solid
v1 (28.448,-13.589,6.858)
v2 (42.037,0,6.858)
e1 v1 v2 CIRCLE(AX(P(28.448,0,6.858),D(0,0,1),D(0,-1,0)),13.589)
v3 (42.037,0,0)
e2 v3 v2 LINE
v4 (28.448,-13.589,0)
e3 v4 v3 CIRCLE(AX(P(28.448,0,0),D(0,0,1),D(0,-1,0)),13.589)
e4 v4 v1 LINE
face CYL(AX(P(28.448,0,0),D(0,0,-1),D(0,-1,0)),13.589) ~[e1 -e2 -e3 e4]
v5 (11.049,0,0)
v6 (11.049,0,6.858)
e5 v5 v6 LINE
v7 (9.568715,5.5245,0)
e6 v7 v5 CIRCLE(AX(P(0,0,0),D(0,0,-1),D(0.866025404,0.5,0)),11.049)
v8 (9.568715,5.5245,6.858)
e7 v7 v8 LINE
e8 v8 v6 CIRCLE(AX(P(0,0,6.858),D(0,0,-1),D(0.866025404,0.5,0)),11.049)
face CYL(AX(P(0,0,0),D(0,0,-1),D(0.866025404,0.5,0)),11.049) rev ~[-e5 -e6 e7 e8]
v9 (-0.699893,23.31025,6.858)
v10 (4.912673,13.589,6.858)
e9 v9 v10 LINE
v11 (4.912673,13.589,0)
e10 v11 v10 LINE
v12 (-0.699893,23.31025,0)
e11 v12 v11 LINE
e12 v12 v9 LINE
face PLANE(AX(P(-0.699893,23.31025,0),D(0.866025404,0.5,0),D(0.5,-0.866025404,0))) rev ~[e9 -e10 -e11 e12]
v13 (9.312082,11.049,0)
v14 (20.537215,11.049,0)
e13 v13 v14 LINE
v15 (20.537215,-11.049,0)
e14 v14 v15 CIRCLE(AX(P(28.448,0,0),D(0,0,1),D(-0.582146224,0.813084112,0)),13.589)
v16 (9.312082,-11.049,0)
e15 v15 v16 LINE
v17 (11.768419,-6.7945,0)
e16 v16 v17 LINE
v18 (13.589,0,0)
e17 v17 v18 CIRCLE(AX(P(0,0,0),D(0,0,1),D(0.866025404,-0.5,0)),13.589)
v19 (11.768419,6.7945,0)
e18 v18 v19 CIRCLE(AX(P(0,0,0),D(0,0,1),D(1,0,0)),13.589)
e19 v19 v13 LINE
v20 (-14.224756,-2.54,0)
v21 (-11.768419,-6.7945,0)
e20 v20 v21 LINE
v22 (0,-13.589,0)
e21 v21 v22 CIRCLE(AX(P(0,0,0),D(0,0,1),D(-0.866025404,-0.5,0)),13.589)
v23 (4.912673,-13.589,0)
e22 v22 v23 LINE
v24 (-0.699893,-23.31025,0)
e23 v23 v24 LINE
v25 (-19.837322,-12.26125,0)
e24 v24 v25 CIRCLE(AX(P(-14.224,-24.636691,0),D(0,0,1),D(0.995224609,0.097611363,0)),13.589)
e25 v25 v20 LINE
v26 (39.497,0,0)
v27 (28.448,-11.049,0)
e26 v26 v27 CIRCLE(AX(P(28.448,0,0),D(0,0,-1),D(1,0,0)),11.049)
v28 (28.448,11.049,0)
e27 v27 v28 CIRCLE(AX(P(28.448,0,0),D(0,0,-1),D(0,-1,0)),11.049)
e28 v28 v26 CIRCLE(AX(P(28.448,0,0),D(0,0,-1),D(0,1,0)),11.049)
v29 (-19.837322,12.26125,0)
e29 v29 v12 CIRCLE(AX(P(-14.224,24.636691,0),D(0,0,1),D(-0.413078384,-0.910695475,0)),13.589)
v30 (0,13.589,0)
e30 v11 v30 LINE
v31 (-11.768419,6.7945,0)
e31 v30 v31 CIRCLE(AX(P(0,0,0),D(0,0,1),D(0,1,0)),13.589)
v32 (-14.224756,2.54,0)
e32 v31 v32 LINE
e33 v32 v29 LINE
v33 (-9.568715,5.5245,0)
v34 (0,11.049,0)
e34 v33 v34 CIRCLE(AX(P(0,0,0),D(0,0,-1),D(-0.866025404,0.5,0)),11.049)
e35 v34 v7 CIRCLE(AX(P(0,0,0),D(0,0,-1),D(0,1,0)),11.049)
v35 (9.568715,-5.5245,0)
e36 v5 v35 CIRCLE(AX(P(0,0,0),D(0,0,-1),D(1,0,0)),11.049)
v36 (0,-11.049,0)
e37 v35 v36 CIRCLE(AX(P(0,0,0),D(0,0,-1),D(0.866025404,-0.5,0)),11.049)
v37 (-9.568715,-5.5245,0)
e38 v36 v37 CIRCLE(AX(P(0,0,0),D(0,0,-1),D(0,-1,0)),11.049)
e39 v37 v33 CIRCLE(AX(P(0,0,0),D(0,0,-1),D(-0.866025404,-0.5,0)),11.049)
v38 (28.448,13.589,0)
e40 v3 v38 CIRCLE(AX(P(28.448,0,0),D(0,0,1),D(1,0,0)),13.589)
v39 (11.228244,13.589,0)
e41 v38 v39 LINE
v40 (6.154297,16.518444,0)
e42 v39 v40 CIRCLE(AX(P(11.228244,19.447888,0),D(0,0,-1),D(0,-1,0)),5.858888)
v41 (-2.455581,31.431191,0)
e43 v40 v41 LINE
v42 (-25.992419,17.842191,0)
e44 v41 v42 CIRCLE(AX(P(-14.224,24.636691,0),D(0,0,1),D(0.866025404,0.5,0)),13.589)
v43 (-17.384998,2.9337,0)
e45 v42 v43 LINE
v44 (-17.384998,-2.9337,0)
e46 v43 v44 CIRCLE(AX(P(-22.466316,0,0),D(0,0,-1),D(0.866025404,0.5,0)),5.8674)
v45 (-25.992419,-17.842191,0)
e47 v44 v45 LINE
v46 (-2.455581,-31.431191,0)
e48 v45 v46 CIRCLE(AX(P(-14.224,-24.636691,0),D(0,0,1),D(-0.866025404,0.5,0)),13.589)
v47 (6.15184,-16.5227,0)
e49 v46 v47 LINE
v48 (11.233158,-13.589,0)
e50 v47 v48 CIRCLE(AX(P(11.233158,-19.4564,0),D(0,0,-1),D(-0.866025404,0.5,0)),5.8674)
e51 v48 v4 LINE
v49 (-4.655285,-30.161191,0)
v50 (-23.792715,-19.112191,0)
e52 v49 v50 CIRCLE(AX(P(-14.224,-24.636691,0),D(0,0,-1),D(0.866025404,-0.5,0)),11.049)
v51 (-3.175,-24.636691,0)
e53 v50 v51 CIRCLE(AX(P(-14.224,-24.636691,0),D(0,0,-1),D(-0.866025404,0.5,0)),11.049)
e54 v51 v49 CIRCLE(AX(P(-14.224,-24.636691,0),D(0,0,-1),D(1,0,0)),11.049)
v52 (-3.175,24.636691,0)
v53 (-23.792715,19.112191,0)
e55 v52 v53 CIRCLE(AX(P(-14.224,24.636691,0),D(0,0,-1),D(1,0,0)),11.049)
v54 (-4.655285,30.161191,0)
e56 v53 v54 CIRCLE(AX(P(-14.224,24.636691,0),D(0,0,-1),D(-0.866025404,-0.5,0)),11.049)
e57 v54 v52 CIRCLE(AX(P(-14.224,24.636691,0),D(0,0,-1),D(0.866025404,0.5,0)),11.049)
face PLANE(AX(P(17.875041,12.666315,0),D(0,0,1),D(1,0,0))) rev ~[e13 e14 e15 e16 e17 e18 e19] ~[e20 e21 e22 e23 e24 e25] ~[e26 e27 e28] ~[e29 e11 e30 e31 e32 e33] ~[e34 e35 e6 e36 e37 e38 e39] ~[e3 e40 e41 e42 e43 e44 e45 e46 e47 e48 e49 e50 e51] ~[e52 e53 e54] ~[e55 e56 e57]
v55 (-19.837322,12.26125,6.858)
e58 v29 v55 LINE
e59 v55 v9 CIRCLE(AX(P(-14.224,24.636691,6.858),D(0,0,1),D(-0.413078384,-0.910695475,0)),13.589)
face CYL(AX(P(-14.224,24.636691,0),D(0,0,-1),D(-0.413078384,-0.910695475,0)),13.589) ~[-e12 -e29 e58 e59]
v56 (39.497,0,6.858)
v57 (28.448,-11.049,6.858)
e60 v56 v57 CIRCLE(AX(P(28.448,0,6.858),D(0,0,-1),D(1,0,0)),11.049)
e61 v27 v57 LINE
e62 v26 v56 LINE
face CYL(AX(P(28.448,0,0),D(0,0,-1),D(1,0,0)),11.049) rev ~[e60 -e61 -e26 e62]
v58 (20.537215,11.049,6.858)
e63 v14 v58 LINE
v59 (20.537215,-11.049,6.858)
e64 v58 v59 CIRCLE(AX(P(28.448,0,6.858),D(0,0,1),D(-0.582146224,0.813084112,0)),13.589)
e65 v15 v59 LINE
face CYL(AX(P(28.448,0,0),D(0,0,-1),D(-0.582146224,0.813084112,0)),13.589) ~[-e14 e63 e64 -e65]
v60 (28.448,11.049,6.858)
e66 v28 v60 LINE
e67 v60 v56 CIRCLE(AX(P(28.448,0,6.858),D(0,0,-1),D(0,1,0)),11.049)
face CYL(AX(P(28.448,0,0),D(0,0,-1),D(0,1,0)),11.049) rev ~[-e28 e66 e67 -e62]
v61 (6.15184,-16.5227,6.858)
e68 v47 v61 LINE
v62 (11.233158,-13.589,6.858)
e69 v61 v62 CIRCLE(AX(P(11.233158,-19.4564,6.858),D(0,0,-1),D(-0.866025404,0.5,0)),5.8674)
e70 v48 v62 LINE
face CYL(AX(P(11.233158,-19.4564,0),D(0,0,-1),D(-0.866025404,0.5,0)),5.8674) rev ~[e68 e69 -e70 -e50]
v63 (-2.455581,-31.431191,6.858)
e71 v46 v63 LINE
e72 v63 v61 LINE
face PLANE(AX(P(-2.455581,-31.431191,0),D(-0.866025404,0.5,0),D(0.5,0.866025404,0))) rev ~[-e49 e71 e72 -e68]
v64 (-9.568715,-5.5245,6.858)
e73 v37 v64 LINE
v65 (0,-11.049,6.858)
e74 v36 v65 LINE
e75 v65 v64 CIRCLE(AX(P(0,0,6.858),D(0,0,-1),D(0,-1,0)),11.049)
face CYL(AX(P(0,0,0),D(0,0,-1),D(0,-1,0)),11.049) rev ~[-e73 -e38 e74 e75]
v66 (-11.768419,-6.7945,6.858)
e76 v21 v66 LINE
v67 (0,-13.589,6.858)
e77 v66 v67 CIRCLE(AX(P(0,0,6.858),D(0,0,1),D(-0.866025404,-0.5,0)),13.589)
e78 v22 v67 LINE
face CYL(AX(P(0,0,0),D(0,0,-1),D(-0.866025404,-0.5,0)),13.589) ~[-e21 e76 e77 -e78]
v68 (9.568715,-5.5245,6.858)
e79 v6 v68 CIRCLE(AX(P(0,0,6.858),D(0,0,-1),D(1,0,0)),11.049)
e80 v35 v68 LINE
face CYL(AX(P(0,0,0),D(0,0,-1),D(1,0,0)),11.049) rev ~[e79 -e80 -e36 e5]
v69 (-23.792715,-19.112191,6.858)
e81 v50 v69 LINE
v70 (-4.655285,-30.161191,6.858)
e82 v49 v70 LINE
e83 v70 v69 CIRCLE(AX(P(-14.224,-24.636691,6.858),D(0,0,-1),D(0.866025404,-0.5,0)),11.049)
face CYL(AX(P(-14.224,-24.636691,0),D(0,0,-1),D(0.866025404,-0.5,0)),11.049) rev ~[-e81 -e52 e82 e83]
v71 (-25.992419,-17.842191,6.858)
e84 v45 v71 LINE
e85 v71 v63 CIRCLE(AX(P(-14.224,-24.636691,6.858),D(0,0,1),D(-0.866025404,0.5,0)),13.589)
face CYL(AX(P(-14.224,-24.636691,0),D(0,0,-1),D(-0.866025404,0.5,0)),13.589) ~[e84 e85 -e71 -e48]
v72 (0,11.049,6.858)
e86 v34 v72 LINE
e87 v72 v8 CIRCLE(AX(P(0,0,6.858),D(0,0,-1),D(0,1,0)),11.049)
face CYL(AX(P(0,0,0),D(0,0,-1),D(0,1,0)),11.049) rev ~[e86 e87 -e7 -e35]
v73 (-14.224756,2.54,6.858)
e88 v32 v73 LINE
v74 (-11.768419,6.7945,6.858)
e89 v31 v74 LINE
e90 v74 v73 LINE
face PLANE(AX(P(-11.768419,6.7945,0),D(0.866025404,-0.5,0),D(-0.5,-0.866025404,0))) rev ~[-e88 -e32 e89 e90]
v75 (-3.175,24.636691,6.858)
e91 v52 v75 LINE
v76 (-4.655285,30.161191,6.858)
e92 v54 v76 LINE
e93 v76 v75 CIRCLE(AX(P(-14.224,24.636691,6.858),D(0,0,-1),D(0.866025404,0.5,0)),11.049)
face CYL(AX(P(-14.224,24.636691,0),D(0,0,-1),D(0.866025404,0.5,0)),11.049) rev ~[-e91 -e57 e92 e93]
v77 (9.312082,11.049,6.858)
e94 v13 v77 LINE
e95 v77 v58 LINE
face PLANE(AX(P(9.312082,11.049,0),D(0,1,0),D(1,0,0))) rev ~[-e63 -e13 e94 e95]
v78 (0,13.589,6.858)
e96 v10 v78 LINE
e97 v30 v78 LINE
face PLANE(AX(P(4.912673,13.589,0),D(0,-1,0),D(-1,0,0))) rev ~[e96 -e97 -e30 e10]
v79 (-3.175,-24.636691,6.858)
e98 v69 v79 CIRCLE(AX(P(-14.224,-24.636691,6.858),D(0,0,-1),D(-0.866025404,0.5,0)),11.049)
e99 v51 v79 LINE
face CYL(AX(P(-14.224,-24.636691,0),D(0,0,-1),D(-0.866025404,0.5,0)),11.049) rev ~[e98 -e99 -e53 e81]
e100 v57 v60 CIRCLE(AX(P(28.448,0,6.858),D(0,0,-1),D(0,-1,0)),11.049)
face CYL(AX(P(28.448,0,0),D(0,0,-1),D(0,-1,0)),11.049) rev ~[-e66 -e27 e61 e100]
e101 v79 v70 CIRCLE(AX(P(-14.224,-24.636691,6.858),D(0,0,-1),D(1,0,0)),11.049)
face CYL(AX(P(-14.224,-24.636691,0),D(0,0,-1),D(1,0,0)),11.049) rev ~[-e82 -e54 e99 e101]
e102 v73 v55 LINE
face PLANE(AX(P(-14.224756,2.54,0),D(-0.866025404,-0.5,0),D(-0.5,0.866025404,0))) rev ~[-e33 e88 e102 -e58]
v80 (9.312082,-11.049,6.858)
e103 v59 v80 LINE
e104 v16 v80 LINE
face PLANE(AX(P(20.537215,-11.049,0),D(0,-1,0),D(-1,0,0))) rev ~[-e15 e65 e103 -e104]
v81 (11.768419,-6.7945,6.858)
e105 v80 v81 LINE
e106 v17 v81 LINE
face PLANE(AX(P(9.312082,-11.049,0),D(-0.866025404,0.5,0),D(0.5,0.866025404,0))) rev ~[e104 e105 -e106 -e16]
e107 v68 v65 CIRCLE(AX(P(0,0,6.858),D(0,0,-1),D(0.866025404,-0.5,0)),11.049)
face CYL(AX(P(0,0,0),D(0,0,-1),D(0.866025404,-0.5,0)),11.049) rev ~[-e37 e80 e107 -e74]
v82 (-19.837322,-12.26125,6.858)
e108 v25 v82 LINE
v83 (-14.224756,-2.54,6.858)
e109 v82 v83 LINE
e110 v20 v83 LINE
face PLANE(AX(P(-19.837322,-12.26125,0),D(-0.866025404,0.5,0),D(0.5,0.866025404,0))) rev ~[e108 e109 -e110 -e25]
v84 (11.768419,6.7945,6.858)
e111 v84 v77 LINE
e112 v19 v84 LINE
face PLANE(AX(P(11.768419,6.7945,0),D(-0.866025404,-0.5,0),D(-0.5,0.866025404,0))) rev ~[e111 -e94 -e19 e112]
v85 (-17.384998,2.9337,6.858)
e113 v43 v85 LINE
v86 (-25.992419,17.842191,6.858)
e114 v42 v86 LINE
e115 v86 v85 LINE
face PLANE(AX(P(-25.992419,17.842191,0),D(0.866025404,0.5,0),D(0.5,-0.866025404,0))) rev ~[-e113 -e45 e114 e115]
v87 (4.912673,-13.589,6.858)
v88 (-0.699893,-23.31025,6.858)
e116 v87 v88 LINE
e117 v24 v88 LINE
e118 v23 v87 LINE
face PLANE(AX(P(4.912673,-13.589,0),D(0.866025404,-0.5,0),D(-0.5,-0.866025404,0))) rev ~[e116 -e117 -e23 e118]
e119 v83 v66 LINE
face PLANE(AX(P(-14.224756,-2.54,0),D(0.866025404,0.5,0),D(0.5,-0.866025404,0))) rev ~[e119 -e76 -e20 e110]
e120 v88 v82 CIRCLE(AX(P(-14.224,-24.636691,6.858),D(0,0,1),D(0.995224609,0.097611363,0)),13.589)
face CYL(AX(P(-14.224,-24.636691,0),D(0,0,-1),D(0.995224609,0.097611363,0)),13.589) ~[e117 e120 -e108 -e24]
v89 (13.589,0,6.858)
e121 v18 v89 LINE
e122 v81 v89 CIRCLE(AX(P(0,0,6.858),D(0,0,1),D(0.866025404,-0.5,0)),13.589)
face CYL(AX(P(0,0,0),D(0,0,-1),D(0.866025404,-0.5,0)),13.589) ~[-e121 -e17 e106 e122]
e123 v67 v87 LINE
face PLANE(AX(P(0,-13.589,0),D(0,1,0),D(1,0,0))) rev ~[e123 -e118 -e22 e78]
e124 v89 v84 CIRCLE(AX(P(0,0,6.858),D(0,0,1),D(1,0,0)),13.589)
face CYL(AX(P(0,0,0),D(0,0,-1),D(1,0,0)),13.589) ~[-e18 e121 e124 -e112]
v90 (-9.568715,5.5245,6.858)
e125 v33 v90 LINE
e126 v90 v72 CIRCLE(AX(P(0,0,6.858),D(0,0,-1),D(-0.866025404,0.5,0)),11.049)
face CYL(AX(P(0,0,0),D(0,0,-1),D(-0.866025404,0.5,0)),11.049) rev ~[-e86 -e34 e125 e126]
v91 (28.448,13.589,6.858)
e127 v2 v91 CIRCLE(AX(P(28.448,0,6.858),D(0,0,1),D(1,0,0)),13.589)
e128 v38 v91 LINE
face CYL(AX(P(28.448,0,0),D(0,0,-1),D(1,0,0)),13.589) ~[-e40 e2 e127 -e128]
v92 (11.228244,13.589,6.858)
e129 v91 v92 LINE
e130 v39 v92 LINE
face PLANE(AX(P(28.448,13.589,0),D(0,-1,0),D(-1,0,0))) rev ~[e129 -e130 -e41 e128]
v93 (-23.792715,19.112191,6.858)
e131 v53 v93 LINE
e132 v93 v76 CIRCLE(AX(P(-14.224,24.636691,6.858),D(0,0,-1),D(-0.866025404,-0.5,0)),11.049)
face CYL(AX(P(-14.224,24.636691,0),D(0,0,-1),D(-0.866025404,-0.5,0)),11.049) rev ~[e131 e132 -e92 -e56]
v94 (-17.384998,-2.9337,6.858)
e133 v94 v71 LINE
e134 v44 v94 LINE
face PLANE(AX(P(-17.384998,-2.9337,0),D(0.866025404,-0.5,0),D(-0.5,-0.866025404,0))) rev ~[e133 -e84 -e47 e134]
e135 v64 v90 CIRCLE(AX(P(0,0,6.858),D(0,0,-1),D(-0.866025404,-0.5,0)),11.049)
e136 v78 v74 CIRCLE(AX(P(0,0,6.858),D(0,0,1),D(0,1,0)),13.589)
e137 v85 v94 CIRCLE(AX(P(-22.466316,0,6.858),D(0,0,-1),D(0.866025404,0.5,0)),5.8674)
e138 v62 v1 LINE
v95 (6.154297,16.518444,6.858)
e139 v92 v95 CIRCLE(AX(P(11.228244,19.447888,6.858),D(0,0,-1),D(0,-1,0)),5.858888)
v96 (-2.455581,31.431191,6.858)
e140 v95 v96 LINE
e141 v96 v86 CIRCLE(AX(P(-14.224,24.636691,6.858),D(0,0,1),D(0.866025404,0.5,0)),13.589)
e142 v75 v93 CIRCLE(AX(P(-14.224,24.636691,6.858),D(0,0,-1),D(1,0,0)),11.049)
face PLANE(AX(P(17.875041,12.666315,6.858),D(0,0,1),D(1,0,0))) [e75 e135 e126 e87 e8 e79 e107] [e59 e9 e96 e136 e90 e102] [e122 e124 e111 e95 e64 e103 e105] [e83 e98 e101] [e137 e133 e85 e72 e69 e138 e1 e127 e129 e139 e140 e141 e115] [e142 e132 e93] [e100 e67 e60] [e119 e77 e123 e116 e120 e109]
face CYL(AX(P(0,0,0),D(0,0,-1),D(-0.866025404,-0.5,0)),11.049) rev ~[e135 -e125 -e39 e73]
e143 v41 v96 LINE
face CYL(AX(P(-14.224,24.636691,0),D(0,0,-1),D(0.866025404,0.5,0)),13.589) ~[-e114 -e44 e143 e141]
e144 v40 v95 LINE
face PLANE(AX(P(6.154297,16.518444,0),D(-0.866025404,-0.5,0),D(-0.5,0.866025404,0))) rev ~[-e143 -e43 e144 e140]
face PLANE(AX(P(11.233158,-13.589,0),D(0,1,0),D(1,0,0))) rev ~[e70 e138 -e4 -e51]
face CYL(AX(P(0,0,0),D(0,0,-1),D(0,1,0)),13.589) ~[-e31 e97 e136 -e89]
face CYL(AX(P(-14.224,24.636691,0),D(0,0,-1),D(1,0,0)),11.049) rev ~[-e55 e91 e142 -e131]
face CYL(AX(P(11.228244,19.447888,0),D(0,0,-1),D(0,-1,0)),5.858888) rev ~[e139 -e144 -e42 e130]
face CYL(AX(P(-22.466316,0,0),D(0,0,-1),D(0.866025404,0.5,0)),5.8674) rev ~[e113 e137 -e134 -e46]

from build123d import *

# Parameters (mm, degrees)
F1_DEPTH = 6.858


with BuildPart() as f1:
    # F0 (on Top) → F1 (new body)
    with BuildSketch(Plane.XY):
        with BuildLine():
            Line((7.845612808, 13.589), (9.3120824918, 11.049))
            Line((9.3120824918, 11.049), (20.5372149568, 11.049))
            ThreePointArc((20.5372149568, 11.049), (24.2937214826, 12.9384269137), (28.448, 13.589))
            Line((28.448, 13.589), (11.2282435216, 13.589))
            Line((11.2282435216, 13.589), (7.845612808, 13.589))
        make_face()
        with BuildLine():
            Line((-0.699892792, 23.3102498756), (4.9126734405, 13.589))
            Line((4.9126734405, 13.589), (7.845612808, 13.589))
            Line((7.845612808, 13.589), (6.1542974512, 16.5184441296))
            Line((6.1542974512, 16.5184441296), (-2.455580788, 31.4311906869))
            ThreePointArc((-2.455580788, 31.4311906869), (-1.0980339466, 28.1537826908), (-0.635, 24.6366906869))
            ThreePointArc((-0.635, 24.6366906869), (-0.6512328936, 23.9726770762), (-0.699892792, 23.3102498756))
        make_face()
        with BuildLine():
            Line((20.5372149568, -11.049), (9.3120824918, -11.049))
            Line((9.3120824918, -11.049), (7.845612808, -13.589))
            Line((7.845612808, -13.589), (11.2331577775, -13.589))
            Line((11.2331577775, -13.589), (28.448, -13.589))
            ThreePointArc((28.448, -13.589), (24.2937214826, -12.9384269137), (20.5372149568, -11.049))
        make_face()
        with BuildLine():
            Line((7.845612808, -13.589), (4.9126734405, -13.589))
            Line((4.9126734405, -13.589), (-0.699892792, -23.3102498756))
            ThreePointArc((-0.699892792, -23.3102498756), (-0.6512328936, -23.9726770762), (-0.635, -24.6366906869))
            ThreePointArc((-0.635, -24.6366906869), (-1.0980339466, -28.1537826908), (-2.455580788, -31.4311906869))
            Line((-2.455580788, -31.4311906869), (6.1518403233, -16.5227))
            Line((6.1518403233, -16.5227), (7.845612808, -13.589))
        make_face()
        with BuildLine():
            ThreePointArc((28.448, 13.589), (24.2937214826, 12.9384269137), (20.5372149568, 11.049))
            Line((20.5372149568, 11.049), (28.448, 11.049))
            ThreePointArc((28.448, 11.049), (36.2608228253, 7.8128228253), (39.497, 0))
            ThreePointArc((39.497, 0), (36.2608228253, -7.8128228253), (28.448, -11.049))
            Line((28.448, -11.049), (20.5372149568, -11.049))
            ThreePointArc((20.5372149568, -11.049), (24.2937214826, -12.9384269137), (28.448, -13.589))
            ThreePointArc((28.448, -13.589), (38.0568740495, -9.6088740495), (42.037, 0))
            ThreePointArc((42.037, 0), (38.0568740495, 9.6088740495), (28.448, 13.589))
        make_face()
        with BuildLine():
            Line((6.1542974512, 16.5184441296), (7.845612808, 13.589))
            Line((7.845612808, 13.589), (11.2282435216, 13.589))
            ThreePointArc((11.2282435216, 13.589), (8.298799392, 14.3739421888), (6.1542974512, 16.5184441296))
        make_face()
        with BuildLine():
            Line((-4.6552853136, 30.1611906869), (-0.699892792, 23.3102498756))
            ThreePointArc((-0.699892792, 23.3102498756), (-0.6512328936, 23.9726770762), (-0.635, 24.6366906869))
            ThreePointArc((-0.635, 24.6366906869), (-1.0980339466, 28.1537826908), (-2.455580788, 31.4311906869))
            ThreePointArc((-2.455580788, 31.4311906869), (-21.0185, 36.4051098989), (-25.992419212, 17.8421906869))
            ThreePointArc((-25.992419212, 17.8421906869), (-23.3518671335, 14.5697664996), (-19.8373221648, 12.2612498756))
            Line((-19.8373221648, 12.2612498756), (-23.7927146864, 19.1121906869))
            ThreePointArc((-23.7927146864, 19.1121906869), (-19.7485, 34.2054053733), (-4.6552853136, 30.1611906869))
        make_face()
        with BuildLine():
            Line((11.2331577775, -13.589), (7.845612808, -13.589))
            Line((7.845612808, -13.589), (6.1518403233, -16.5227))
            ThreePointArc((6.1518403233, -16.5227), (8.2994577775, -14.3750825458), (11.2331577775, -13.589))
        make_face()
        with BuildLine():
            ThreePointArc((-0.635, -24.6366906869), (-0.6512328936, -23.9726770762), (-0.699892792, -23.3102498756))
            Line((-0.699892792, -23.3102498756), (-4.6552853136, -30.1611906869))
            ThreePointArc((-4.6552853136, -30.1611906869), (-19.7485, -34.2054053733), (-23.7927146864, -19.1121906869))
            Line((-23.7927146864, -19.1121906869), (-19.8373221648, -12.2612498756))
            ThreePointArc((-19.8373221648, -12.2612498756), (-23.3518671335, -14.5697664996), (-25.992419212, -17.8421906869))
            ThreePointArc((-25.992419212, -17.8421906869), (-21.0185, -36.4051098989), (-2.455580788, -31.4311906869))
            ThreePointArc((-2.455580788, -31.4311906869), (-1.0980339466, -28.1537826908), (-0.635, -24.6366906869))
        make_face()
        with BuildLine():
            Line((-15.691225616, 0), (-14.2247559323, 2.54))
            Line((-14.2247559323, 2.54), (-19.8373221648, 12.2612498756))
            ThreePointArc((-19.8373221648, 12.2612498756), (-23.3518671335, 14.5697664996), (-25.992419212, 17.8421906869))
            Line((-25.992419212, 17.8421906869), (-17.3849981008, 2.9337))
            Line((-17.3849981008, 2.9337), (-15.691225616, 0))
        make_face()
        with BuildLine():
            Line((-19.8373221648, -12.2612498756), (-14.2247559323, -2.54))
            Line((-14.2247559323, -2.54), (-15.691225616, 0))
            Line((-15.691225616, 0), (-17.3849981008, -2.9337))
            Line((-17.3849981008, -2.9337), (-25.992419212, -17.8421906869))
            ThreePointArc((-25.992419212, -17.8421906869), (-23.3518671335, -14.5697664996), (-19.8373221648, -12.2612498756))
        make_face()
        with BuildLine():
            Line((-17.3849981008, -2.9337), (-15.691225616, 0))
            Line((-15.691225616, 0), (-17.3849981008, 2.9337))
            ThreePointArc((-17.3849981008, 2.9337), (-16.5989155549, 0), (-17.3849981008, -2.9337))
        make_face()
        with BuildLine():
            ThreePointArc((-13.524107208, -1.3264408113), (-13.589, 0), (-13.524107208, 1.3264408113))
            Line((-13.524107208, 1.3264408113), (-14.2247559323, 2.54))
            Line((-14.2247559323, 2.54), (-15.691225616, 0))
            Line((-15.691225616, 0), (-14.2247559323, -2.54))
            Line((-14.2247559323, -2.54), (-13.524107208, -1.3264408113))
        make_face()
        with BuildLine():
            Line((-13.524107208, -1.3264408113), (-12.7582862486, 0))
            Line((-12.7582862486, 0), (-13.524107208, 1.3264408113))
            ThreePointArc((-13.524107208, 1.3264408113), (-13.589, 0), (-13.524107208, -1.3264408113))
        make_face()
        with BuildLine():
            ThreePointArc((-9.5687146864, 5.5245), (-5.5245, 9.5687146864), (0, 11.049))
            Line((0, 11.049), (6.3791431243, 11.049))
            Line((6.3791431243, 11.049), (5.6133221648, 12.3754408113))
            ThreePointArc((5.6133221648, 12.3754408113), (2.8715027264, 13.2821456509), (0, 13.589))
            ThreePointArc((0, 13.589), (-6.7945, 11.768419212), (-11.768419212, 6.7945))
            ThreePointArc((-11.768419212, 6.7945), (-12.9384269137, 4.1542785174), (-13.524107208, 1.3264408113))
            Line((-13.524107208, 1.3264408113), (-12.7582862486, 0))
            Line((-12.7582862486, 0), (-9.5687146864, 5.5245))
        make_face()
        with BuildLine():
            ThreePointArc((-9.5687146864, -5.5245), (-11.049, 0), (-9.5687146864, 5.5245))
            Line((-9.5687146864, 5.5245), (-12.7582862486, 0))
            Line((-12.7582862486, 0), (-9.5687146864, -5.5245))
        make_face()
        with BuildLine():
            Line((-14.2247559323, 2.54), (-13.524107208, 1.3264408113))
            ThreePointArc((-13.524107208, 1.3264408113), (-12.9384269137, 4.1542785174), (-11.768419212, 6.7945))
            Line((-11.768419212, 6.7945), (-14.2247559323, 2.54))
        make_face()
        with BuildLine():
            ThreePointArc((-11.768419212, -6.7945), (-12.9384269137, -4.1542785174), (-13.524107208, -1.3264408113))
            Line((-13.524107208, -1.3264408113), (-14.2247559323, -2.54))
            Line((-14.2247559323, -2.54), (-11.768419212, -6.7945))
        make_face()
        with BuildLine():
            Line((6.3791431243, -11.049), (0, -11.049))
            ThreePointArc((0, -11.049), (-5.5245, -9.5687146864), (-9.5687146864, -5.5245))
            Line((-9.5687146864, -5.5245), (-12.7582862486, 0))
            Line((-12.7582862486, 0), (-13.524107208, -1.3264408113))
            ThreePointArc((-13.524107208, -1.3264408113), (-12.9384269137, -4.1542785174), (-11.768419212, -6.7945))
            ThreePointArc((-11.768419212, -6.7945), (-6.7945, -11.768419212), (0, -13.589))
            ThreePointArc((0, -13.589), (2.8715027264, -13.2821456509), (5.6133221648, -12.3754408113))
            Line((5.6133221648, -12.3754408113), (6.3791431243, -11.049))
        make_face()
        with BuildLine():
            Line((6.3791431243, -11.049), (9.5687146864, -5.5245))
            ThreePointArc((9.5687146864, -5.5245), (5.5245, -9.5687146864), (0, -11.049))
            Line((0, -11.049), (6.3791431243, -11.049))
        make_face()
        with BuildLine():
            Line((7.9107850432, -11.049), (6.3791431243, -11.049))
            Line((6.3791431243, -11.049), (5.6133221648, -12.3754408113))
            ThreePointArc((5.6133221648, -12.3754408113), (6.7945, -11.768419212), (7.9107850432, -11.049))
        make_face()
        with BuildLine():
            Line((9.3120824918, -11.049), (7.9107850432, -11.049))
            ThreePointArc((7.9107850432, -11.049), (6.7945, -11.768419212), (5.6133221648, -12.3754408113))
            Line((5.6133221648, -12.3754408113), (4.9126734405, -13.589))
            Line((4.9126734405, -13.589), (7.845612808, -13.589))
            Line((7.845612808, -13.589), (9.3120824918, -11.049))
        make_face()
        with BuildLine():
            Line((4.9126734405, -13.589), (5.6133221648, -12.3754408113))
            ThreePointArc((5.6133221648, -12.3754408113), (2.8715027264, -13.2821456509), (0, -13.589))
            Line((0, -13.589), (4.9126734405, -13.589))
        make_face()
        with BuildLine():
            ThreePointArc((11.768419212, -6.7945), (10.0669241873, -9.1278671335), (7.9107850432, -11.049))
            Line((7.9107850432, -11.049), (9.3120824918, -11.049))
            Line((9.3120824918, -11.049), (11.768419212, -6.7945))
        make_face()
        with BuildLine():
            ThreePointArc((9.5687146864, 5.5245), (10.6725144547, 2.8596916293), (11.049, 0))
            ThreePointArc((11.049, 0), (10.6725144547, -2.8596916293), (9.5687146864, -5.5245))
            Line((9.5687146864, -5.5245), (6.3791431243, -11.049))
            Line((6.3791431243, -11.049), (7.9107850432, -11.049))
            ThreePointArc((7.9107850432, -11.049), (10.0669241873, -9.1278671335), (11.768419212, -6.7945))
            ThreePointArc((11.768419212, -6.7945), (13.1259660534, -3.5170920039), (13.589, 0))
            ThreePointArc((13.589, 0), (13.1259660534, 3.5170920039), (11.768419212, 6.7945))
            ThreePointArc((11.768419212, 6.7945), (10.0669241873, 9.1278671335), (7.9107850432, 11.049))
            Line((7.9107850432, 11.049), (6.3791431243, 11.049))
            Line((6.3791431243, 11.049), (9.5687146864, 5.5245))
        make_face()
        with BuildLine():
            ThreePointArc((5.6133221648, 12.3754408113), (6.7945, 11.768419212), (7.9107850432, 11.049))
            Line((7.9107850432, 11.049), (9.3120824918, 11.049))
            Line((9.3120824918, 11.049), (7.845612808, 13.589))
            Line((7.845612808, 13.589), (4.9126734405, 13.589))
            Line((4.9126734405, 13.589), (5.6133221648, 12.3754408113))
        make_face()
        with BuildLine():
            Line((5.6133221648, 12.3754408113), (6.3791431243, 11.049))
            Line((6.3791431243, 11.049), (7.9107850432, 11.049))
            ThreePointArc((7.9107850432, 11.049), (6.7945, 11.768419212), (5.6133221648, 12.3754408113))
        make_face()
        with BuildLine():
            ThreePointArc((0, 11.049), (5.5245, 9.5687146864), (9.5687146864, 5.5245))
            Line((9.5687146864, 5.5245), (6.3791431243, 11.049))
            Line((6.3791431243, 11.049), (0, 11.049))
        make_face()
        with BuildLine():
            ThreePointArc((0, 13.589), (2.8715027264, 13.2821456509), (5.6133221648, 12.3754408113))
            Line((5.6133221648, 12.3754408113), (4.9126734405, 13.589))
            Line((4.9126734405, 13.589), (0, 13.589))
        make_face()
        with BuildLine():
            Line((9.3120824918, 11.049), (7.9107850432, 11.049))
            ThreePointArc((7.9107850432, 11.049), (10.0669241873, 9.1278671335), (11.768419212, 6.7945))
            Line((11.768419212, 6.7945), (9.3120824918, 11.049))
        make_face()
        with BuildLine():
            Line((28.448, 11.049), (20.5372149568, 11.049))
            ThreePointArc((20.5372149568, 11.049), (14.859, 0), (20.5372149568, -11.049))
            Line((20.5372149568, -11.049), (28.448, -11.049))
            ThreePointArc((28.448, -11.049), (17.399, 0), (28.448, 11.049))
        make_face()
        with BuildLine():
            ThreePointArc((-19.8373221648, 12.2612498756), (-7.4295, 12.8682714748), (-0.699892792, 23.3102498756))
            Line((-0.699892792, 23.3102498756), (-4.6552853136, 30.1611906869))
            ThreePointArc((-4.6552853136, 30.1611906869), (-3.5514855453, 27.4963823162), (-3.175, 24.6366906869))
            ThreePointArc((-3.175, 24.6366906869), (-11.3643083707, 13.9641762322), (-23.7927146864, 19.1121906869))
            Line((-23.7927146864, 19.1121906869), (-19.8373221648, 12.2612498756))
        make_face()
        with BuildLine():
            Line((-4.6552853136, -30.1611906869), (-0.699892792, -23.3102498756))
            ThreePointArc((-0.699892792, -23.3102498756), (-7.4295, -12.8682714748), (-19.8373221648, -12.2612498756))
            Line((-19.8373221648, -12.2612498756), (-23.7927146864, -19.1121906869))
            ThreePointArc((-23.7927146864, -19.1121906869), (-11.3643083707, -13.9641762322), (-3.175, -24.6366906869))
            ThreePointArc((-3.175, -24.6366906869), (-3.5514855453, -27.4963823162), (-4.6552853136, -30.1611906869))
        make_face()
    extrude(amount=F1_DEPTH)


solid = f1.part
